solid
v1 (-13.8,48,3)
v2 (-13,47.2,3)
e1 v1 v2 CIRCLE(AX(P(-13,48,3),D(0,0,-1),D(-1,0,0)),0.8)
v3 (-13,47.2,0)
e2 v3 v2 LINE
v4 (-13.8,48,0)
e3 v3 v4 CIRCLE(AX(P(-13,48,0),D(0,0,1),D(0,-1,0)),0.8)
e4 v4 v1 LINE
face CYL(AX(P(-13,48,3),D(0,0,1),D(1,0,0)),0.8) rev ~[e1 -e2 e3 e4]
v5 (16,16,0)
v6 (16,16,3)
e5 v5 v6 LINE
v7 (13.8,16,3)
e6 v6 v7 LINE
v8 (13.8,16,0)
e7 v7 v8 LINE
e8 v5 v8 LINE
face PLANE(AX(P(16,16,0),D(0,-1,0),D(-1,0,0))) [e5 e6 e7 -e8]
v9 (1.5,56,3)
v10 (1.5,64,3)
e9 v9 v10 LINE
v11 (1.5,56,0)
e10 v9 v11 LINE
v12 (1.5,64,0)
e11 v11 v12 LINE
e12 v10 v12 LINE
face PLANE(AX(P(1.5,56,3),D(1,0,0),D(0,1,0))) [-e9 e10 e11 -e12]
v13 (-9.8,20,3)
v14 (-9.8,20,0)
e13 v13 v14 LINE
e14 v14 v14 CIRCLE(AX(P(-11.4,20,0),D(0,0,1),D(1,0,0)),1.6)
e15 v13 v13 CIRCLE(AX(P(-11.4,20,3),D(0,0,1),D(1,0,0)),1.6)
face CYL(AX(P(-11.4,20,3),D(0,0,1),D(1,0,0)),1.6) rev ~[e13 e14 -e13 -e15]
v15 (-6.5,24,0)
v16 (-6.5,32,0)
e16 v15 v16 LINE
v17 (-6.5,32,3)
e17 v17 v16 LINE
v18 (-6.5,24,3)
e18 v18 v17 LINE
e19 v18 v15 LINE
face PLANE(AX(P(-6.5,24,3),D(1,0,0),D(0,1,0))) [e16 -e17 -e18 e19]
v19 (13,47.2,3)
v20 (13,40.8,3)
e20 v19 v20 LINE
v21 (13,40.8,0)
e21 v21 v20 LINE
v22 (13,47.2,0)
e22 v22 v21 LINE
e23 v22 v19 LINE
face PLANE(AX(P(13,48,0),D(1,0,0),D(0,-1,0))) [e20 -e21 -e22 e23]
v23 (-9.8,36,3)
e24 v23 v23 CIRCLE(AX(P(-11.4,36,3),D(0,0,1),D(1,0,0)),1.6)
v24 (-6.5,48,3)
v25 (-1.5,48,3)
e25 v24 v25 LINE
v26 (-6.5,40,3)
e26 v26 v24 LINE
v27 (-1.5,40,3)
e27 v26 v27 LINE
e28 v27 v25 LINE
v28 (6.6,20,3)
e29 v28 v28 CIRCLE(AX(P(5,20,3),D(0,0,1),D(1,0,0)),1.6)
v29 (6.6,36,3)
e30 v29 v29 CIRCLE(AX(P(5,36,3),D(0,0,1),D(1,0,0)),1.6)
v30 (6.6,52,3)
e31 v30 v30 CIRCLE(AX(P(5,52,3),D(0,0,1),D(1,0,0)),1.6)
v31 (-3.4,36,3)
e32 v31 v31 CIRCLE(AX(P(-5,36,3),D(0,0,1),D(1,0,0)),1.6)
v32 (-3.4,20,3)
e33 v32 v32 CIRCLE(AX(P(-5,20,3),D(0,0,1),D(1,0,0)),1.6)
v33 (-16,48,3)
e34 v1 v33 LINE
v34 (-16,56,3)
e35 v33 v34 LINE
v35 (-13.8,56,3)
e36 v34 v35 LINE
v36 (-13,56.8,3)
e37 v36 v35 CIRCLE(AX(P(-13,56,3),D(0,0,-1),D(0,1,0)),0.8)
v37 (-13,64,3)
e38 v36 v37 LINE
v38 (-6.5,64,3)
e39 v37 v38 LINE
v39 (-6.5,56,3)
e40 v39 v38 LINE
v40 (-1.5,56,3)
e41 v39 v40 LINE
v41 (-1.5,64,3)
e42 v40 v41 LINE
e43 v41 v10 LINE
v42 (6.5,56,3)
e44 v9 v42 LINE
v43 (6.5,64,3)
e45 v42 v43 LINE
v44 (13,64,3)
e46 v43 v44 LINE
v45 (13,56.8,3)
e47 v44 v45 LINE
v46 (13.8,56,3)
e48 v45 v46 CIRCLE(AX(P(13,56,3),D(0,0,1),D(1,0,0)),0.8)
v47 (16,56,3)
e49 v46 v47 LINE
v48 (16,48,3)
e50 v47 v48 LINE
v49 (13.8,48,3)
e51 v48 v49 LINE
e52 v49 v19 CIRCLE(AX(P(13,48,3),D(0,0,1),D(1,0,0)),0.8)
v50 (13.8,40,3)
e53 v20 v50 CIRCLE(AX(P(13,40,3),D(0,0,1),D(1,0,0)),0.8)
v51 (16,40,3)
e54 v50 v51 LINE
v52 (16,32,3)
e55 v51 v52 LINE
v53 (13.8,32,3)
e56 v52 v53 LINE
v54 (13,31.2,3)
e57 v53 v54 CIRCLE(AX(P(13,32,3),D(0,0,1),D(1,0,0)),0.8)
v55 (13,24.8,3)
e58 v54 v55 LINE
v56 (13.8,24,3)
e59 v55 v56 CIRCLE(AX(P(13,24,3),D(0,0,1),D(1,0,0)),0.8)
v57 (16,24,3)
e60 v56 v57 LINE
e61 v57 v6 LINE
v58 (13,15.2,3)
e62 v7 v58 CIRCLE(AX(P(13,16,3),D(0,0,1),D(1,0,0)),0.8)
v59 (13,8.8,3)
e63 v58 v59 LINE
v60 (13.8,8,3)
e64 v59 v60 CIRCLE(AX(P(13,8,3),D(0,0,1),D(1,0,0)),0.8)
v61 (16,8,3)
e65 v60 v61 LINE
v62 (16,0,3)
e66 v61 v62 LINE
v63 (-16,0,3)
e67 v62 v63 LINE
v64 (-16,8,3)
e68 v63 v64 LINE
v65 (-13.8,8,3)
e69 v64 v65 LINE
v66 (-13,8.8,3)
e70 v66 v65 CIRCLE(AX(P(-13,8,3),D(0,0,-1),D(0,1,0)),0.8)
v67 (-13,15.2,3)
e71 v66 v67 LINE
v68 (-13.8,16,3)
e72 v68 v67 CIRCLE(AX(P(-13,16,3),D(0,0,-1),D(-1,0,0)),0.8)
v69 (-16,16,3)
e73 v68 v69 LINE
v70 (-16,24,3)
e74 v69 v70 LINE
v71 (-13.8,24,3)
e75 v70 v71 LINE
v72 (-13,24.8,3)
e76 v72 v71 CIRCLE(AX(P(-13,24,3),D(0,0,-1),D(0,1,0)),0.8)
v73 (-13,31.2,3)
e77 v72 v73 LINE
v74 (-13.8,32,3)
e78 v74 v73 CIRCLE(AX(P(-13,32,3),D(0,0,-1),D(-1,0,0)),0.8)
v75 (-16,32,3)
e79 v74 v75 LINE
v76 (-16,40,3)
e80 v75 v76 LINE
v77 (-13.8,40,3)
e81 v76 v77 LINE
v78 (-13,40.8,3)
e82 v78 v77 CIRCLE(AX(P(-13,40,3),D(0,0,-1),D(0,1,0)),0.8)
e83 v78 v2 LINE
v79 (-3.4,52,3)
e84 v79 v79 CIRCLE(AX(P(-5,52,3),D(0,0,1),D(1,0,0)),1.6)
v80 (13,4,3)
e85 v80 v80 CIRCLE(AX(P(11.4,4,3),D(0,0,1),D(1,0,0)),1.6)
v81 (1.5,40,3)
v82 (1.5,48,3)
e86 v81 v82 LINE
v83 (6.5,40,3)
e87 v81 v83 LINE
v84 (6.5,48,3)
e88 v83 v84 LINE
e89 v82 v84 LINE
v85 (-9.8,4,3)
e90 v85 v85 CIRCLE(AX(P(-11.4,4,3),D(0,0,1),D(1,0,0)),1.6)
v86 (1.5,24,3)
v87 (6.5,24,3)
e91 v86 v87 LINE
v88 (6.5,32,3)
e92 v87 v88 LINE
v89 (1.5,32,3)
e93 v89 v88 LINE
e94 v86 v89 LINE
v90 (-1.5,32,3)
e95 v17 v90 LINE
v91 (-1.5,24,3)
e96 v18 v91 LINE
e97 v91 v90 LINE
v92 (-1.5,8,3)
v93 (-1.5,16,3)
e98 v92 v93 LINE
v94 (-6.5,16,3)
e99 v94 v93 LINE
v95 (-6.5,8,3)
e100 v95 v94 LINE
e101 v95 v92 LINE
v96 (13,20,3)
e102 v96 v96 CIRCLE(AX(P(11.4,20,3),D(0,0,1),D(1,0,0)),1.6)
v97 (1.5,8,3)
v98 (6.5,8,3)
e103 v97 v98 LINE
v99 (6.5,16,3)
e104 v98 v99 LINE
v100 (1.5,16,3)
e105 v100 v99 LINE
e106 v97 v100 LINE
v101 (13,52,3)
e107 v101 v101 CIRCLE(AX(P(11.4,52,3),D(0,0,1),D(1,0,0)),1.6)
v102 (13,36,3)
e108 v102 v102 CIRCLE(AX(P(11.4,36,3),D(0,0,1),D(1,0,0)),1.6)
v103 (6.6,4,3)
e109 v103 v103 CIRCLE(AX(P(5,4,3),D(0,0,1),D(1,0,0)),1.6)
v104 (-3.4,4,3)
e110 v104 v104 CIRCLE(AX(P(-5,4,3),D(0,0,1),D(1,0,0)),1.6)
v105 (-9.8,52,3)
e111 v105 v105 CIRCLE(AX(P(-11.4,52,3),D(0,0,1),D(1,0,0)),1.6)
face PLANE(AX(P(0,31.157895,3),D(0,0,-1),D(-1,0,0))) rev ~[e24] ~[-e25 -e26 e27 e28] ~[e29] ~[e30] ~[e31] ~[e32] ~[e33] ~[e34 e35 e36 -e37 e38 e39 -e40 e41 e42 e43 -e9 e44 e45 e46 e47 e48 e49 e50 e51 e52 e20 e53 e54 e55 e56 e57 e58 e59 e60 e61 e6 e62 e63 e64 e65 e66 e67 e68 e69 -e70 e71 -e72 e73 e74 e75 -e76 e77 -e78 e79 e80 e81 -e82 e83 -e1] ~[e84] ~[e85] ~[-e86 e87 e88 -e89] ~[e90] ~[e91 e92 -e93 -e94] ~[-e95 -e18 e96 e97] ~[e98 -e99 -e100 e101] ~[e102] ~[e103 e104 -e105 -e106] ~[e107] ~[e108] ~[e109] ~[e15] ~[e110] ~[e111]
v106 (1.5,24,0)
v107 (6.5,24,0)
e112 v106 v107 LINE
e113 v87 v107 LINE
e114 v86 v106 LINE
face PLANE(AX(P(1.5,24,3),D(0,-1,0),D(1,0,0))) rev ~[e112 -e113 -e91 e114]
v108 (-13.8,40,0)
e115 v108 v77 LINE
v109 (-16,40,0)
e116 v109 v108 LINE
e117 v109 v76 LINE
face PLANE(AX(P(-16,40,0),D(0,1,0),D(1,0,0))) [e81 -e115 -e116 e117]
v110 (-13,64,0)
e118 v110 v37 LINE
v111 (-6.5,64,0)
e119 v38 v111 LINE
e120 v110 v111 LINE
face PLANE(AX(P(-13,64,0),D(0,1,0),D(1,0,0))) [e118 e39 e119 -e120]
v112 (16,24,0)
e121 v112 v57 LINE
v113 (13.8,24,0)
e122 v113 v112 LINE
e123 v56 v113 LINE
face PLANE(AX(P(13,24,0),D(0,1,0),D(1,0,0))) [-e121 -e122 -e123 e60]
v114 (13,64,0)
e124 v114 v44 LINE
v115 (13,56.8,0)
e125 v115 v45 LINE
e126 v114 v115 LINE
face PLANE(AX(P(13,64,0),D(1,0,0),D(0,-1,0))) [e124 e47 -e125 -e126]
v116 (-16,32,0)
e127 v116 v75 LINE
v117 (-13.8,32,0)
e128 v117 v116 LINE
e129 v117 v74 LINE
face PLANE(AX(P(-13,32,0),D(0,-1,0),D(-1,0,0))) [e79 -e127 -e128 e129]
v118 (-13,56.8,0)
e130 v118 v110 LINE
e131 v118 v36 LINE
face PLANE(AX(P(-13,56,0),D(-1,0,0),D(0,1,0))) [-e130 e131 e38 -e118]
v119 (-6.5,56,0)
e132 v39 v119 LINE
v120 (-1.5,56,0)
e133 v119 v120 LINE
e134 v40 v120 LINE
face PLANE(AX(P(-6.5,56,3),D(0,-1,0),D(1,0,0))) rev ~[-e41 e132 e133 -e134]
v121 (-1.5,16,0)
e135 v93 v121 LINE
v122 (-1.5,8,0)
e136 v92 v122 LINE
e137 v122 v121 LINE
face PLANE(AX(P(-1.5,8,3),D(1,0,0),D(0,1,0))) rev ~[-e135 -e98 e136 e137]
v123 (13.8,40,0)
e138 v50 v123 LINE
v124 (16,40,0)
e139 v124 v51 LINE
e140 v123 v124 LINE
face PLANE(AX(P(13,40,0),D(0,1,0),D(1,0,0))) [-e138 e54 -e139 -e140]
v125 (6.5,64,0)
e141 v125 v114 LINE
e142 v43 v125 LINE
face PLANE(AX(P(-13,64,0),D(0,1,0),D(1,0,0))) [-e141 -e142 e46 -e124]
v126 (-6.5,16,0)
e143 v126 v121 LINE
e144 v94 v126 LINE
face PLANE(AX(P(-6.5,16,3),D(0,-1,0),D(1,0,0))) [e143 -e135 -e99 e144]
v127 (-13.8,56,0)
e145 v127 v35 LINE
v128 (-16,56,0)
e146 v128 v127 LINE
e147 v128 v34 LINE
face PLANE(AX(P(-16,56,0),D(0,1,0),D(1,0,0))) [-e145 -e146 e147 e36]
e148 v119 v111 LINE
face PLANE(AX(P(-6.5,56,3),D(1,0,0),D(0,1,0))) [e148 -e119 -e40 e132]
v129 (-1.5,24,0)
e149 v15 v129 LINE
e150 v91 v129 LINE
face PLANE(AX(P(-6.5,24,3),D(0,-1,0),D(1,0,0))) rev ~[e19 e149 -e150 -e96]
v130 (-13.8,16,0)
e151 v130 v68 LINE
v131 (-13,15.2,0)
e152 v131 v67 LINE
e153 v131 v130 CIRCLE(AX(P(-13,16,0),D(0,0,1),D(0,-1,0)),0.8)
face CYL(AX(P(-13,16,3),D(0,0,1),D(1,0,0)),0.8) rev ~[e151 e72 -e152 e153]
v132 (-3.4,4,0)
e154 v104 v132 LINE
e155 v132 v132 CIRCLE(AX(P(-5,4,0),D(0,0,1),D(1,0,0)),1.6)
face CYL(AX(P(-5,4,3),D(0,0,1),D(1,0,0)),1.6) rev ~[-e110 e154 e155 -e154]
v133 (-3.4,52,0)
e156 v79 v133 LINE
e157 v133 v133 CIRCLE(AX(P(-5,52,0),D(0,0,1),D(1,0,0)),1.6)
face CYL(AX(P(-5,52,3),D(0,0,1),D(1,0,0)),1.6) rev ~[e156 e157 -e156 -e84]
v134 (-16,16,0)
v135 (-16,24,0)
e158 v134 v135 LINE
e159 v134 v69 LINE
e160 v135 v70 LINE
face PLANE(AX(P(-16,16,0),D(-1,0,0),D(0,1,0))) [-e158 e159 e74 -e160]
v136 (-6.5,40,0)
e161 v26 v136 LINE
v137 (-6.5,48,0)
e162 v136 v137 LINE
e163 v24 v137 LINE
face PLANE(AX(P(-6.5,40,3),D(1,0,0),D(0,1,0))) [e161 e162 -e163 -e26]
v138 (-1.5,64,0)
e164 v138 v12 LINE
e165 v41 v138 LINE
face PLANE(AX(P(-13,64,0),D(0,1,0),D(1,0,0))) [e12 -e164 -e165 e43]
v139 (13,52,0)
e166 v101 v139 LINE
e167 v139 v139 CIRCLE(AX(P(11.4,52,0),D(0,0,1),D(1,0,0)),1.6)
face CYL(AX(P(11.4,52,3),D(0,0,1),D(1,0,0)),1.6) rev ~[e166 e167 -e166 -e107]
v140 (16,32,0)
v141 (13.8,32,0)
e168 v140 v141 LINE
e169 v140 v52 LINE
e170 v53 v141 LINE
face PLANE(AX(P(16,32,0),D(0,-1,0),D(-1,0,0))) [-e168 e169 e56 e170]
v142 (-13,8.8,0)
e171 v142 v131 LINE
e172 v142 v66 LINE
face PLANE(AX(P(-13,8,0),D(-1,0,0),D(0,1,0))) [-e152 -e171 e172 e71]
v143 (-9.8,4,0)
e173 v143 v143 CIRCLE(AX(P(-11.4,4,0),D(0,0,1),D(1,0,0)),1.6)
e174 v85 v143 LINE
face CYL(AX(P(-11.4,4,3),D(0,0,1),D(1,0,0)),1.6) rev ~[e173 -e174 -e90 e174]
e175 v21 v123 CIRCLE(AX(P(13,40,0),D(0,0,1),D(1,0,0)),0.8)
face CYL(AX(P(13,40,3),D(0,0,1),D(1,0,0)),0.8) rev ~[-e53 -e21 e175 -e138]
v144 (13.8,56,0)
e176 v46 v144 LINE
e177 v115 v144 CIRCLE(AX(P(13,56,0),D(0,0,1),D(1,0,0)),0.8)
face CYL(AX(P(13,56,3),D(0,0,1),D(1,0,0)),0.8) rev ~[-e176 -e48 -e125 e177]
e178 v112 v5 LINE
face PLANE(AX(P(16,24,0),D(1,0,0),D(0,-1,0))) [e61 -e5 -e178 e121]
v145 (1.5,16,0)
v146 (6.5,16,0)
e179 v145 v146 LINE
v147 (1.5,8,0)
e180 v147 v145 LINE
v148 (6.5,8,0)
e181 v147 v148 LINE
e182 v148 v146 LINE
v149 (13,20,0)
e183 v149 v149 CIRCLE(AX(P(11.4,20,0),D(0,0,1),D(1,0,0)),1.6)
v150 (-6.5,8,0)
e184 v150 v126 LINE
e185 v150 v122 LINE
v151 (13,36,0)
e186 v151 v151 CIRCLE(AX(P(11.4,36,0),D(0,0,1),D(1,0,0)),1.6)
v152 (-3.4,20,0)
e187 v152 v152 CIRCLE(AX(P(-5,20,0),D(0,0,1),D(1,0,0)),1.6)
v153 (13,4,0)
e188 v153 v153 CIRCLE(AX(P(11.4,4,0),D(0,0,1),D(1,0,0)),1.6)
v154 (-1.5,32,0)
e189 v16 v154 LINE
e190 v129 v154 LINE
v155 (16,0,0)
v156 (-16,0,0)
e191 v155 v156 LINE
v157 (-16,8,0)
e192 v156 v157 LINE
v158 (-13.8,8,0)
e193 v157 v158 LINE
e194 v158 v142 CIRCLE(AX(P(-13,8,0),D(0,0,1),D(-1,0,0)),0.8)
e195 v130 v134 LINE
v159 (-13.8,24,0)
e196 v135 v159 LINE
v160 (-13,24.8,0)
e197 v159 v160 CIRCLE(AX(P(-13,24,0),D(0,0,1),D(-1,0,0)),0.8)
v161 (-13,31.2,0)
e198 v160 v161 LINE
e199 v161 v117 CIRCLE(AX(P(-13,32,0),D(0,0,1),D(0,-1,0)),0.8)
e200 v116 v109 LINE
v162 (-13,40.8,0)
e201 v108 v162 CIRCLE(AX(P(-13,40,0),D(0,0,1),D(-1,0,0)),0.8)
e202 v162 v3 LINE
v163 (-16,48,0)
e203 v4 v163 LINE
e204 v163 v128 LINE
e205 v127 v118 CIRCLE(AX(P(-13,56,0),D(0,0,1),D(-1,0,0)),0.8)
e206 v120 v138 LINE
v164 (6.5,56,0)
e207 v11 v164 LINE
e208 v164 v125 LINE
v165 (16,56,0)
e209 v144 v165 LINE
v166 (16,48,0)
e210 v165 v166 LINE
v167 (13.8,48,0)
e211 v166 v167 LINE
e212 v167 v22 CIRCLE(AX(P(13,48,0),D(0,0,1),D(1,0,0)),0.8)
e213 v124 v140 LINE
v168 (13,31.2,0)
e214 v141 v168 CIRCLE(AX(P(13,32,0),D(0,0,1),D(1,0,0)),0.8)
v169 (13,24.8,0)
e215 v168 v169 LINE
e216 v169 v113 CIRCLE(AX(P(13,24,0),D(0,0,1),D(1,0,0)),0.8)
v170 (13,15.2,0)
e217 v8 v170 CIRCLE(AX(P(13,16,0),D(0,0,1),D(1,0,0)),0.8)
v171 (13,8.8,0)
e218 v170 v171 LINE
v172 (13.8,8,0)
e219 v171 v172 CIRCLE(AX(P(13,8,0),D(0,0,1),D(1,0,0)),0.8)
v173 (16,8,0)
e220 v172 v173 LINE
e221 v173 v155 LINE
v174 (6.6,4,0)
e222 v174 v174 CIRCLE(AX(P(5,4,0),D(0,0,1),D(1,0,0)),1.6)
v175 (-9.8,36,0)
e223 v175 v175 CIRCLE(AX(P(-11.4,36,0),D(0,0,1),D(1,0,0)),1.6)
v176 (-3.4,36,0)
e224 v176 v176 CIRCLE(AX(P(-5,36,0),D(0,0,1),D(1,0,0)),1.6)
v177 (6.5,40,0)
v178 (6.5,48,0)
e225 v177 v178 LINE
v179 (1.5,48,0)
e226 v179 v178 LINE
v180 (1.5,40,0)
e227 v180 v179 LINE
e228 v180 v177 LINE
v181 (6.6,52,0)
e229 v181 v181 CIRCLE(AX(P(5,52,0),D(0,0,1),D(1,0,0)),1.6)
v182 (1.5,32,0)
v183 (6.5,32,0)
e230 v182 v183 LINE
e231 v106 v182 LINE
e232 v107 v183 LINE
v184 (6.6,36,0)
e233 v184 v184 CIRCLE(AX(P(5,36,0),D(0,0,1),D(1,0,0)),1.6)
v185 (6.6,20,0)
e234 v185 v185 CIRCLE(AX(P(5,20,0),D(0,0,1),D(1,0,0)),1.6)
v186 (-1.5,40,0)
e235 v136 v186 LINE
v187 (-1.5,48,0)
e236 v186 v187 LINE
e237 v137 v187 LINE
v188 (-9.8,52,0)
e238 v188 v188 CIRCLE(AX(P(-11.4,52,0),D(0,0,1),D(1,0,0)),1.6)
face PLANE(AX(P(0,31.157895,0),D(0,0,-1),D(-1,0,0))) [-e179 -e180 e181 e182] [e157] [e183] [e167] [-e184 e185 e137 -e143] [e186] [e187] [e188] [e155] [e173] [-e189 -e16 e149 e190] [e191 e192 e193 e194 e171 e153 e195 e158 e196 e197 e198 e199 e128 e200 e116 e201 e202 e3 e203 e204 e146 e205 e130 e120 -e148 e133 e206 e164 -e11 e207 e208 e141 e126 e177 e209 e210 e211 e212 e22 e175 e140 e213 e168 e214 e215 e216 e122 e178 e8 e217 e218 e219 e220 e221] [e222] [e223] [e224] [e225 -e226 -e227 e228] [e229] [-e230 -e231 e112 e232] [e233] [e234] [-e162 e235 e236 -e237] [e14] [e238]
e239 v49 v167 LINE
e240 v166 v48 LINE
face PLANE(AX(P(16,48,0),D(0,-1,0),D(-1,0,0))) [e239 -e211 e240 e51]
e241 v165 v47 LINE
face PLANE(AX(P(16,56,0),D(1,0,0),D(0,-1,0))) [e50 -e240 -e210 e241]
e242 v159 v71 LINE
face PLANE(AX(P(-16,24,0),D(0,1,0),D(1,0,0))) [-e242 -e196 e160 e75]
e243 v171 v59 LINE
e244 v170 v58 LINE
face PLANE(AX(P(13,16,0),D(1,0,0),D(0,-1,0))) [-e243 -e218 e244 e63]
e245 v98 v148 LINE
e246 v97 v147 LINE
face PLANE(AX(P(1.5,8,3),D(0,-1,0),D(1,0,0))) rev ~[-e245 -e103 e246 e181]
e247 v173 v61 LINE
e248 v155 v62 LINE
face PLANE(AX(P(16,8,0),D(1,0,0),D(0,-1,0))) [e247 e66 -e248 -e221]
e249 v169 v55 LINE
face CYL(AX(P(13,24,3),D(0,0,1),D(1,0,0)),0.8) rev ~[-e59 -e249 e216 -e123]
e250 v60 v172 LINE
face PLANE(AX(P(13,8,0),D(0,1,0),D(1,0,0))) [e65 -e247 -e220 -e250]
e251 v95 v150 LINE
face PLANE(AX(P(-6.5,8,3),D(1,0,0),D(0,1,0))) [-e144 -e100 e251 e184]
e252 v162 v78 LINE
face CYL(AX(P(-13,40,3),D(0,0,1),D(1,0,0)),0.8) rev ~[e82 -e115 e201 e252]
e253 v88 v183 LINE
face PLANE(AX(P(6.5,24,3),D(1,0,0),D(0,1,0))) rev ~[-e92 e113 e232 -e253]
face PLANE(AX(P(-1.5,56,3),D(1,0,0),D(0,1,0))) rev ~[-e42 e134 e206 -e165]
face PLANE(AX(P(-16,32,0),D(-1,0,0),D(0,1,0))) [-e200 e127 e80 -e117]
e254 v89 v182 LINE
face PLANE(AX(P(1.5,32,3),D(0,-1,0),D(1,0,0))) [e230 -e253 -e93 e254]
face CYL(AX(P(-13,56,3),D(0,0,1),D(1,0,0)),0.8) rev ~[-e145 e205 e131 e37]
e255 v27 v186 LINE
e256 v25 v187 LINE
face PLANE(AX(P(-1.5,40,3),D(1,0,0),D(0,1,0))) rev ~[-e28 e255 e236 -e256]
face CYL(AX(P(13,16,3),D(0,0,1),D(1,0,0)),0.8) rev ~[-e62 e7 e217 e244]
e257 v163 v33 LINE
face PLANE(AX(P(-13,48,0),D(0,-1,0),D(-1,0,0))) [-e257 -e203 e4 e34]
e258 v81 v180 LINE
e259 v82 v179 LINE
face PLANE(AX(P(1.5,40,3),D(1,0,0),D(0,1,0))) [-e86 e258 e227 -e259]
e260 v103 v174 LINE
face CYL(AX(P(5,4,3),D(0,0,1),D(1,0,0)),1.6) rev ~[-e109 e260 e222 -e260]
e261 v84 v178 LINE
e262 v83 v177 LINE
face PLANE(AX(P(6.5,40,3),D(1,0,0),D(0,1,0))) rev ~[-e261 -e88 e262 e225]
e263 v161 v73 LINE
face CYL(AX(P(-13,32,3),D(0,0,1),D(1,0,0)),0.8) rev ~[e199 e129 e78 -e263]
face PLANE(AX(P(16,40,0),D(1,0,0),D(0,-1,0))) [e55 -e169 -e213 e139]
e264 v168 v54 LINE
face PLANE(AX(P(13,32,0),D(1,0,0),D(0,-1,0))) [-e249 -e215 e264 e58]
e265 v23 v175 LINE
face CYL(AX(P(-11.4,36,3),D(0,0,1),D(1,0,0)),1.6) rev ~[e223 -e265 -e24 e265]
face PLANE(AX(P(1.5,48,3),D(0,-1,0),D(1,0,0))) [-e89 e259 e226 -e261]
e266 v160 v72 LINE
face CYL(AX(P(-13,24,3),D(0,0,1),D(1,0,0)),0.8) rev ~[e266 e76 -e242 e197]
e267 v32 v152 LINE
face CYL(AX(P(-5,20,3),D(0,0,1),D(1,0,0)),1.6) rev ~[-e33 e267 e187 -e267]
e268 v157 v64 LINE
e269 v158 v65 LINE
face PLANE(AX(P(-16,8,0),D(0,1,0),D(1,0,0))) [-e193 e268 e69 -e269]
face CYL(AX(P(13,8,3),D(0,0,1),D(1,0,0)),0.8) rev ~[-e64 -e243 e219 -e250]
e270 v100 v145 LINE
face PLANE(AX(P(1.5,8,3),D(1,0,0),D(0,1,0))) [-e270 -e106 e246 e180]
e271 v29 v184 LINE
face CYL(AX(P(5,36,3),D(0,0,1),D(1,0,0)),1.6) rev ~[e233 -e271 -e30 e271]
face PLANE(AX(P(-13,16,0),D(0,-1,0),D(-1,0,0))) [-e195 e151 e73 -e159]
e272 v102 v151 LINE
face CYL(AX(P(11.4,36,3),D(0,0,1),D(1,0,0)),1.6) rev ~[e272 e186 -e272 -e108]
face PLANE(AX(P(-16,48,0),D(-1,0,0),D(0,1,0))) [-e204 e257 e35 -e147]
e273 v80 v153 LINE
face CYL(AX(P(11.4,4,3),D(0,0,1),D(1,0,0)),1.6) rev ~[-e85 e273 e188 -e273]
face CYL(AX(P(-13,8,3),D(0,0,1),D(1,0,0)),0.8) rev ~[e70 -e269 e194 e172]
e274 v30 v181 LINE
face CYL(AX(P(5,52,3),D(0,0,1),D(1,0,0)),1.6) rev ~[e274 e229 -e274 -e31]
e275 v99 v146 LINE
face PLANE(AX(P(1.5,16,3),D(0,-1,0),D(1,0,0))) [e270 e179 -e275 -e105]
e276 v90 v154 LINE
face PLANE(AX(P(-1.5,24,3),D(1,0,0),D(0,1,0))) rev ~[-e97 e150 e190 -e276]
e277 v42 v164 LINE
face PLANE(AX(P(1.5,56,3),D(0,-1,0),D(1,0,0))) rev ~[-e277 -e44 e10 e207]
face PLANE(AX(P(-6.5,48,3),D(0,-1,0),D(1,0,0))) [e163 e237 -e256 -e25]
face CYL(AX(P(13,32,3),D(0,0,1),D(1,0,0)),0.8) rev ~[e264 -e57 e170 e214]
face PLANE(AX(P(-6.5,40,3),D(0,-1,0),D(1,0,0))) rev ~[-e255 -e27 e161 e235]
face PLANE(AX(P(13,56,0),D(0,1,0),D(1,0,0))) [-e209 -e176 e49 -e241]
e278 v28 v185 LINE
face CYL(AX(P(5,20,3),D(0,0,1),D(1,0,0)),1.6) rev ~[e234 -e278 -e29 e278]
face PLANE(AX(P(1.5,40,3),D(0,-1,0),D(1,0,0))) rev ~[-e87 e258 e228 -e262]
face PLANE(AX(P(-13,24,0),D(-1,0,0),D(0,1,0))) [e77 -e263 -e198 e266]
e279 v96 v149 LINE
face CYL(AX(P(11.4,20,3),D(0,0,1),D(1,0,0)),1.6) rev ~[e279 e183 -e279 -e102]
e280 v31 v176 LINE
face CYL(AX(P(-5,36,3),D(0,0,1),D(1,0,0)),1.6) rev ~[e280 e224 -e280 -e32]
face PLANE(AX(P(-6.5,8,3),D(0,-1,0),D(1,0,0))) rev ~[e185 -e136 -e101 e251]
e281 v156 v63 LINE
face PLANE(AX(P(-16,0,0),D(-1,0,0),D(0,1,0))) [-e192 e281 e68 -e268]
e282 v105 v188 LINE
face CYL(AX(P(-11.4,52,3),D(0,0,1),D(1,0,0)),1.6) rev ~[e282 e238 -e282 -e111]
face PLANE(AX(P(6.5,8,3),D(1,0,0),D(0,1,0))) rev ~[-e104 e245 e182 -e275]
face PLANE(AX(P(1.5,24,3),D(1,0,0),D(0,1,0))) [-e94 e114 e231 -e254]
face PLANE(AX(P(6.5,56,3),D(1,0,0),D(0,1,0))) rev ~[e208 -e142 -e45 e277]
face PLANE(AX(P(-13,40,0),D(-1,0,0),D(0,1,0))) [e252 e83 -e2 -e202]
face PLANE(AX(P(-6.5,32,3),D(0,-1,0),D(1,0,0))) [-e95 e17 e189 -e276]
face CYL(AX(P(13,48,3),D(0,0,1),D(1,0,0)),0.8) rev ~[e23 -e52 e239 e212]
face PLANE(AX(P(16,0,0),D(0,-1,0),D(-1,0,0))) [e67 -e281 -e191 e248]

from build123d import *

# Parameters (mm, degrees)
EXTRUDE_1_DEPTH     = 3
SKETCH_2_W          = 5
SKETCH_2_H          = 8
CUT_EXTRUDE_1_DEPTH = 3
SKETCH_3_R          = 1.6
CUT_EXTRUDE_2_DEPTH = 3
CUT_EXTRUDE_3_REACH = 5
SKETCH_5_R          = 1.6
CUT_EXTRUDE_4_REACH = 5
SKETCH_6_R          = 0.8


with BuildPart() as part:
    # 草图1 → 凸台-拉伸1 (new body)
    with BuildSketch(Plane.XY):
        Polygon((16, 0), (-16, 0), (-16, 8), (-13, 8), (-13, 16), (-16, 16), (-16, 24), (-13, 24), (-13, 32), (-16, 32), (-16, 40), (-13, 40), (-13, 48), (-16, 48), (-16, 56), (-13, 56), (-13, 64), (13, 64), (13, 56), (16, 56), (16, 48), (13, 48), (13, 40), (16, 40), (16, 32), (13, 32), (13, 24), (16, 24), (16, 16), (13, 16), (13, 8), (16, 8), align=None)
    extrude(amount=EXTRUDE_1_DEPTH)

    # 草图2 → 切除-拉伸1 (cut)
    with BuildSketch(Plane.XY.offset(3)):
        with Locations((-4, 28)):
            Rectangle(SKETCH_2_W, SKETCH_2_H)
        with Locations((-4, 12)):
            Rectangle(SKETCH_2_W, SKETCH_2_H)
        with Locations((4, 28)):
            Rectangle(SKETCH_2_W, SKETCH_2_H)
        with Locations((-4, 44)):
            Rectangle(SKETCH_2_W, SKETCH_2_H)
        with Locations((4, 44)):
            Rectangle(SKETCH_2_W, SKETCH_2_H)
        with Locations((4, 12)):
            Rectangle(SKETCH_2_W, SKETCH_2_H)
        with Locations((4, 60)):
            Rectangle(SKETCH_2_W, SKETCH_2_H)
        with Locations((-4, 60)):
            Rectangle(SKETCH_2_W, SKETCH_2_H)
    extrude(amount=-CUT_EXTRUDE_1_DEPTH, mode=Mode.SUBTRACT)

    # 草图3 → 切除-拉伸2 (cut)
    with BuildSketch(Plane.XY.offset(3)):
        with Locations((-11.4, 4)):
            Circle(SKETCH_3_R)
        with Locations((11.4, 4)):
            Circle(SKETCH_3_R)
        with Locations((-11.4, 20)):
            Circle(SKETCH_3_R)
        with Locations((11.4, 20)):
            Circle(SKETCH_3_R)
        with Locations((-11.4, 36)):
            Circle(SKETCH_3_R)
        with Locations((11.4, 36)):
            Circle(SKETCH_3_R)
        with Locations((-11.4, 52)):
            Circle(SKETCH_3_R)
        with Locations((11.4, 52)):
            Circle(SKETCH_3_R)
    extrude(amount=-CUT_EXTRUDE_2_DEPTH, mode=Mode.SUBTRACT)

    # 草图5 → 切除-拉伸3 (cut, up to next)
    with BuildSketch(Plane.XY.offset(3), mode=Mode.PRIVATE) as cut_extrude_3_sk1:
        with Locations((-5, 4)):
            Circle(SKETCH_5_R)
    cut_extrude_3_tool1 = extrude(cut_extrude_3_sk1.sketch, amount=-CUT_EXTRUDE_3_REACH, mode=Mode.PRIVATE) & part.part
    add(cut_extrude_3_tool1.solids().sort_by_distance((-5, 4, 3))[0], mode=Mode.SUBTRACT)
    # 草图5 → 切除-拉伸3 (cut, up to next)
    with BuildSketch(Plane.XY.offset(3), mode=Mode.PRIVATE) as cut_extrude_3_sk2:
        with Locations((5, 4)):
            Circle(SKETCH_5_R)
    cut_extrude_3_tool2 = extrude(cut_extrude_3_sk2.sketch, amount=-CUT_EXTRUDE_3_REACH, mode=Mode.PRIVATE) & part.part
    add(cut_extrude_3_tool2.solids().sort_by_distance((5, 4, 3))[0], mode=Mode.SUBTRACT)
    # 草图5 → 切除-拉伸3 (cut, up to next)
    with BuildSketch(Plane.XY.offset(3), mode=Mode.PRIVATE) as cut_extrude_3_sk3:
        with Locations((-5, 20)):
            Circle(SKETCH_5_R)
    cut_extrude_3_tool3 = extrude(cut_extrude_3_sk3.sketch, amount=-CUT_EXTRUDE_3_REACH, mode=Mode.PRIVATE) & part.part
    add(cut_extrude_3_tool3.solids().sort_by_distance((-5, 20, 3))[0], mode=Mode.SUBTRACT)
    # 草图5 → 切除-拉伸3 (cut, up to next)
    with BuildSketch(Plane.XY.offset(3), mode=Mode.PRIVATE) as cut_extrude_3_sk4:
        with Locations((5, 20)):
            Circle(SKETCH_5_R)
    cut_extrude_3_tool4 = extrude(cut_extrude_3_sk4.sketch, amount=-CUT_EXTRUDE_3_REACH, mode=Mode.PRIVATE) & part.part
    add(cut_extrude_3_tool4.solids().sort_by_distance((5, 20, 3))[0], mode=Mode.SUBTRACT)
    # 草图5 → 切除-拉伸3 (cut, up to next)
    with BuildSketch(Plane.XY.offset(3), mode=Mode.PRIVATE) as cut_extrude_3_sk5:
        with Locations((-5, 36)):
            Circle(SKETCH_5_R)
    cut_extrude_3_tool5 = extrude(cut_extrude_3_sk5.sketch, amount=-CUT_EXTRUDE_3_REACH, mode=Mode.PRIVATE) & part.part
    add(cut_extrude_3_tool5.solids().sort_by_distance((-5, 36, 3))[0], mode=Mode.SUBTRACT)
    # 草图5 → 切除-拉伸3 (cut, up to next)
    with BuildSketch(Plane.XY.offset(3), mode=Mode.PRIVATE) as cut_extrude_3_sk6:
        with Locations((5, 36)):
            Circle(SKETCH_5_R)
    cut_extrude_3_tool6 = extrude(cut_extrude_3_sk6.sketch, amount=-CUT_EXTRUDE_3_REACH, mode=Mode.PRIVATE) & part.part
    add(cut_extrude_3_tool6.solids().sort_by_distance((5, 36, 3))[0], mode=Mode.SUBTRACT)
    # 草图5 → 切除-拉伸3 (cut, up to next)
    with BuildSketch(Plane.XY.offset(3), mode=Mode.PRIVATE) as cut_extrude_3_sk7:
        with Locations((-5, 52)):
            Circle(SKETCH_5_R)
    cut_extrude_3_tool7 = extrude(cut_extrude_3_sk7.sketch, amount=-CUT_EXTRUDE_3_REACH, mode=Mode.PRIVATE) & part.part
    add(cut_extrude_3_tool7.solids().sort_by_distance((-5, 52, 3))[0], mode=Mode.SUBTRACT)
    # 草图5 → 切除-拉伸3 (cut, up to next)
    with BuildSketch(Plane.XY.offset(3), mode=Mode.PRIVATE) as cut_extrude_3_sk8:
        with Locations((5, 52)):
            Circle(SKETCH_5_R)
    cut_extrude_3_tool8 = extrude(cut_extrude_3_sk8.sketch, amount=-CUT_EXTRUDE_3_REACH, mode=Mode.PRIVATE) & part.part
    add(cut_extrude_3_tool8.solids().sort_by_distance((5, 52, 3))[0], mode=Mode.SUBTRACT)

    # 草图6 → 切除-拉伸4 (cut, up to next)
    with BuildSketch(Plane.XY.offset(3), mode=Mode.PRIVATE) as cut_extrude_4_sk1:
        with Locations((-13, 8)):
            Circle(SKETCH_6_R)
    cut_extrude_4_tool1 = extrude(cut_extrude_4_sk1.sketch, amount=-CUT_EXTRUDE_4_REACH, mode=Mode.PRIVATE) & part.part
    add(cut_extrude_4_tool1.solids().sort_by_distance((-13, 8, 3))[0], mode=Mode.SUBTRACT)
    # 草图6 → 切除-拉伸4 (cut, up to next)
    with BuildSketch(Plane.XY.offset(3), mode=Mode.PRIVATE) as cut_extrude_4_sk2:
        with Locations((-13, 16)):
            Circle(SKETCH_6_R)
    cut_extrude_4_tool2 = extrude(cut_extrude_4_sk2.sketch, amount=-CUT_EXTRUDE_4_REACH, mode=Mode.PRIVATE) & part.part
    add(cut_extrude_4_tool2.solids().sort_by_distance((-13, 16, 3))[0], mode=Mode.SUBTRACT)
    # 草图6 → 切除-拉伸4 (cut, up to next)
    with BuildSketch(Plane.XY.offset(3), mode=Mode.PRIVATE) as cut_extrude_4_sk3:
        with Locations((-13, 24)):
            Circle(SKETCH_6_R)
    cut_extrude_4_tool3 = extrude(cut_extrude_4_sk3.sketch, amount=-CUT_EXTRUDE_4_REACH, mode=Mode.PRIVATE) & part.part
    add(cut_extrude_4_tool3.solids().sort_by_distance((-13, 24, 3))[0], mode=Mode.SUBTRACT)
    # 草图6 → 切除-拉伸4 (cut, up to next)
    with BuildSketch(Plane.XY.offset(3), mode=Mode.PRIVATE) as cut_extrude_4_sk4:
        with Locations((-13, 32)):
            Circle(SKETCH_6_R)
    cut_extrude_4_tool4 = extrude(cut_extrude_4_sk4.sketch, amount=-CUT_EXTRUDE_4_REACH, mode=Mode.PRIVATE) & part.part
    add(cut_extrude_4_tool4.solids().sort_by_distance((-13, 32, 3))[0], mode=Mode.SUBTRACT)
    # 草图6 → 切除-拉伸4 (cut, up to next)
    with BuildSketch(Plane.XY.offset(3), mode=Mode.PRIVATE) as cut_extrude_4_sk5:
        with Locations((-13, 40)):
            Circle(SKETCH_6_R)
    cut_extrude_4_tool5 = extrude(cut_extrude_4_sk5.sketch, amount=-CUT_EXTRUDE_4_REACH, mode=Mode.PRIVATE) & part.part
    add(cut_extrude_4_tool5.solids().sort_by_distance((-13, 40, 3))[0], mode=Mode.SUBTRACT)
    # 草图6 → 切除-拉伸4 (cut, up to next)
    with BuildSketch(Plane.XY.offset(3), mode=Mode.PRIVATE) as cut_extrude_4_sk6:
        with Locations((-13, 48)):
            Circle(SKETCH_6_R)
    cut_extrude_4_tool6 = extrude(cut_extrude_4_sk6.sketch, amount=-CUT_EXTRUDE_4_REACH, mode=Mode.PRIVATE) & part.part
    add(cut_extrude_4_tool6.solids().sort_by_distance((-13, 48, 3))[0], mode=Mode.SUBTRACT)
    # 草图6 → 切除-拉伸4 (cut, up to next)
    with BuildSketch(Plane.XY.offset(3), mode=Mode.PRIVATE) as cut_extrude_4_sk7:
        with Locations((-13, 56)):
            Circle(SKETCH_6_R)
    cut_extrude_4_tool7 = extrude(cut_extrude_4_sk7.sketch, amount=-CUT_EXTRUDE_4_REACH, mode=Mode.PRIVATE) & part.part
    add(cut_extrude_4_tool7.solids().sort_by_distance((-13, 56, 3))[0], mode=Mode.SUBTRACT)
    # 草图6 → 切除-拉伸4 (cut, up to next)
    with BuildSketch(Plane.XY.offset(3), mode=Mode.PRIVATE) as cut_extrude_4_sk8:
        with Locations((13, 8)):
            Circle(SKETCH_6_R)
    cut_extrude_4_tool8 = extrude(cut_extrude_4_sk8.sketch, amount=-CUT_EXTRUDE_4_REACH, mode=Mode.PRIVATE) & part.part
    add(cut_extrude_4_tool8.solids().sort_by_distance((13, 8, 3))[0], mode=Mode.SUBTRACT)
    # 草图6 → 切除-拉伸4 (cut, up to next)
    with BuildSketch(Plane.XY.offset(3), mode=Mode.PRIVATE) as cut_extrude_4_sk9:
        with Locations((13, 16)):
            Circle(SKETCH_6_R)
    cut_extrude_4_tool9 = extrude(cut_extrude_4_sk9.sketch, amount=-CUT_EXTRUDE_4_REACH, mode=Mode.PRIVATE) & part.part
    add(cut_extrude_4_tool9.solids().sort_by_distance((13, 16, 3))[0], mode=Mode.SUBTRACT)
    # 草图6 → 切除-拉伸4 (cut, up to next)
    with BuildSketch(Plane.XY.offset(3), mode=Mode.PRIVATE) as cut_extrude_4_sk10:
        with Locations((13, 24)):
            Circle(SKETCH_6_R)
    cut_extrude_4_tool10 = extrude(cut_extrude_4_sk10.sketch, amount=-CUT_EXTRUDE_4_REACH, mode=Mode.PRIVATE) & part.part
    add(cut_extrude_4_tool10.solids().sort_by_distance((13, 24, 3))[0], mode=Mode.SUBTRACT)
    # 草图6 → 切除-拉伸4 (cut, up to next)
    with BuildSketch(Plane.XY.offset(3), mode=Mode.PRIVATE) as cut_extrude_4_sk11:
        with Locations((13, 32)):
            Circle(SKETCH_6_R)
    cut_extrude_4_tool11 = extrude(cut_extrude_4_sk11.sketch, amount=-CUT_EXTRUDE_4_REACH, mode=Mode.PRIVATE) & part.part
    add(cut_extrude_4_tool11.solids().sort_by_distance((13, 32, 3))[0], mode=Mode.SUBTRACT)
    # 草图6 → 切除-拉伸4 (cut, up to next)
    with BuildSketch(Plane.XY.offset(3), mode=Mode.PRIVATE) as cut_extrude_4_sk12:
        with Locations((13, 40)):
            Circle(SKETCH_6_R)
    cut_extrude_4_tool12 = extrude(cut_extrude_4_sk12.sketch, amount=-CUT_EXTRUDE_4_REACH, mode=Mode.PRIVATE) & part.part
    add(cut_extrude_4_tool12.solids().sort_by_distance((13, 40, 3))[0], mode=Mode.SUBTRACT)
    # 草图6 → 切除-拉伸4 (cut, up to next)
    with BuildSketch(Plane.XY.offset(3), mode=Mode.PRIVATE) as cut_extrude_4_sk13:
        with Locations((13, 48)):
            Circle(SKETCH_6_R)
    cut_extrude_4_tool13 = extrude(cut_extrude_4_sk13.sketch, amount=-CUT_EXTRUDE_4_REACH, mode=Mode.PRIVATE) & part.part
    add(cut_extrude_4_tool13.solids().sort_by_distance((13, 48, 3))[0], mode=Mode.SUBTRACT)
    # 草图6 → 切除-拉伸4 (cut, up to next)
    with BuildSketch(Plane.XY.offset(3), mode=Mode.PRIVATE) as cut_extrude_4_sk14:
        with Locations((13, 56)):
            Circle(SKETCH_6_R)
    cut_extrude_4_tool14 = extrude(cut_extrude_4_sk14.sketch, amount=-CUT_EXTRUDE_4_REACH, mode=Mode.PRIVATE) & part.part
    add(cut_extrude_4_tool14.solids().sort_by_distance((13, 56, 3))[0], mode=Mode.SUBTRACT)


solid = part.part
